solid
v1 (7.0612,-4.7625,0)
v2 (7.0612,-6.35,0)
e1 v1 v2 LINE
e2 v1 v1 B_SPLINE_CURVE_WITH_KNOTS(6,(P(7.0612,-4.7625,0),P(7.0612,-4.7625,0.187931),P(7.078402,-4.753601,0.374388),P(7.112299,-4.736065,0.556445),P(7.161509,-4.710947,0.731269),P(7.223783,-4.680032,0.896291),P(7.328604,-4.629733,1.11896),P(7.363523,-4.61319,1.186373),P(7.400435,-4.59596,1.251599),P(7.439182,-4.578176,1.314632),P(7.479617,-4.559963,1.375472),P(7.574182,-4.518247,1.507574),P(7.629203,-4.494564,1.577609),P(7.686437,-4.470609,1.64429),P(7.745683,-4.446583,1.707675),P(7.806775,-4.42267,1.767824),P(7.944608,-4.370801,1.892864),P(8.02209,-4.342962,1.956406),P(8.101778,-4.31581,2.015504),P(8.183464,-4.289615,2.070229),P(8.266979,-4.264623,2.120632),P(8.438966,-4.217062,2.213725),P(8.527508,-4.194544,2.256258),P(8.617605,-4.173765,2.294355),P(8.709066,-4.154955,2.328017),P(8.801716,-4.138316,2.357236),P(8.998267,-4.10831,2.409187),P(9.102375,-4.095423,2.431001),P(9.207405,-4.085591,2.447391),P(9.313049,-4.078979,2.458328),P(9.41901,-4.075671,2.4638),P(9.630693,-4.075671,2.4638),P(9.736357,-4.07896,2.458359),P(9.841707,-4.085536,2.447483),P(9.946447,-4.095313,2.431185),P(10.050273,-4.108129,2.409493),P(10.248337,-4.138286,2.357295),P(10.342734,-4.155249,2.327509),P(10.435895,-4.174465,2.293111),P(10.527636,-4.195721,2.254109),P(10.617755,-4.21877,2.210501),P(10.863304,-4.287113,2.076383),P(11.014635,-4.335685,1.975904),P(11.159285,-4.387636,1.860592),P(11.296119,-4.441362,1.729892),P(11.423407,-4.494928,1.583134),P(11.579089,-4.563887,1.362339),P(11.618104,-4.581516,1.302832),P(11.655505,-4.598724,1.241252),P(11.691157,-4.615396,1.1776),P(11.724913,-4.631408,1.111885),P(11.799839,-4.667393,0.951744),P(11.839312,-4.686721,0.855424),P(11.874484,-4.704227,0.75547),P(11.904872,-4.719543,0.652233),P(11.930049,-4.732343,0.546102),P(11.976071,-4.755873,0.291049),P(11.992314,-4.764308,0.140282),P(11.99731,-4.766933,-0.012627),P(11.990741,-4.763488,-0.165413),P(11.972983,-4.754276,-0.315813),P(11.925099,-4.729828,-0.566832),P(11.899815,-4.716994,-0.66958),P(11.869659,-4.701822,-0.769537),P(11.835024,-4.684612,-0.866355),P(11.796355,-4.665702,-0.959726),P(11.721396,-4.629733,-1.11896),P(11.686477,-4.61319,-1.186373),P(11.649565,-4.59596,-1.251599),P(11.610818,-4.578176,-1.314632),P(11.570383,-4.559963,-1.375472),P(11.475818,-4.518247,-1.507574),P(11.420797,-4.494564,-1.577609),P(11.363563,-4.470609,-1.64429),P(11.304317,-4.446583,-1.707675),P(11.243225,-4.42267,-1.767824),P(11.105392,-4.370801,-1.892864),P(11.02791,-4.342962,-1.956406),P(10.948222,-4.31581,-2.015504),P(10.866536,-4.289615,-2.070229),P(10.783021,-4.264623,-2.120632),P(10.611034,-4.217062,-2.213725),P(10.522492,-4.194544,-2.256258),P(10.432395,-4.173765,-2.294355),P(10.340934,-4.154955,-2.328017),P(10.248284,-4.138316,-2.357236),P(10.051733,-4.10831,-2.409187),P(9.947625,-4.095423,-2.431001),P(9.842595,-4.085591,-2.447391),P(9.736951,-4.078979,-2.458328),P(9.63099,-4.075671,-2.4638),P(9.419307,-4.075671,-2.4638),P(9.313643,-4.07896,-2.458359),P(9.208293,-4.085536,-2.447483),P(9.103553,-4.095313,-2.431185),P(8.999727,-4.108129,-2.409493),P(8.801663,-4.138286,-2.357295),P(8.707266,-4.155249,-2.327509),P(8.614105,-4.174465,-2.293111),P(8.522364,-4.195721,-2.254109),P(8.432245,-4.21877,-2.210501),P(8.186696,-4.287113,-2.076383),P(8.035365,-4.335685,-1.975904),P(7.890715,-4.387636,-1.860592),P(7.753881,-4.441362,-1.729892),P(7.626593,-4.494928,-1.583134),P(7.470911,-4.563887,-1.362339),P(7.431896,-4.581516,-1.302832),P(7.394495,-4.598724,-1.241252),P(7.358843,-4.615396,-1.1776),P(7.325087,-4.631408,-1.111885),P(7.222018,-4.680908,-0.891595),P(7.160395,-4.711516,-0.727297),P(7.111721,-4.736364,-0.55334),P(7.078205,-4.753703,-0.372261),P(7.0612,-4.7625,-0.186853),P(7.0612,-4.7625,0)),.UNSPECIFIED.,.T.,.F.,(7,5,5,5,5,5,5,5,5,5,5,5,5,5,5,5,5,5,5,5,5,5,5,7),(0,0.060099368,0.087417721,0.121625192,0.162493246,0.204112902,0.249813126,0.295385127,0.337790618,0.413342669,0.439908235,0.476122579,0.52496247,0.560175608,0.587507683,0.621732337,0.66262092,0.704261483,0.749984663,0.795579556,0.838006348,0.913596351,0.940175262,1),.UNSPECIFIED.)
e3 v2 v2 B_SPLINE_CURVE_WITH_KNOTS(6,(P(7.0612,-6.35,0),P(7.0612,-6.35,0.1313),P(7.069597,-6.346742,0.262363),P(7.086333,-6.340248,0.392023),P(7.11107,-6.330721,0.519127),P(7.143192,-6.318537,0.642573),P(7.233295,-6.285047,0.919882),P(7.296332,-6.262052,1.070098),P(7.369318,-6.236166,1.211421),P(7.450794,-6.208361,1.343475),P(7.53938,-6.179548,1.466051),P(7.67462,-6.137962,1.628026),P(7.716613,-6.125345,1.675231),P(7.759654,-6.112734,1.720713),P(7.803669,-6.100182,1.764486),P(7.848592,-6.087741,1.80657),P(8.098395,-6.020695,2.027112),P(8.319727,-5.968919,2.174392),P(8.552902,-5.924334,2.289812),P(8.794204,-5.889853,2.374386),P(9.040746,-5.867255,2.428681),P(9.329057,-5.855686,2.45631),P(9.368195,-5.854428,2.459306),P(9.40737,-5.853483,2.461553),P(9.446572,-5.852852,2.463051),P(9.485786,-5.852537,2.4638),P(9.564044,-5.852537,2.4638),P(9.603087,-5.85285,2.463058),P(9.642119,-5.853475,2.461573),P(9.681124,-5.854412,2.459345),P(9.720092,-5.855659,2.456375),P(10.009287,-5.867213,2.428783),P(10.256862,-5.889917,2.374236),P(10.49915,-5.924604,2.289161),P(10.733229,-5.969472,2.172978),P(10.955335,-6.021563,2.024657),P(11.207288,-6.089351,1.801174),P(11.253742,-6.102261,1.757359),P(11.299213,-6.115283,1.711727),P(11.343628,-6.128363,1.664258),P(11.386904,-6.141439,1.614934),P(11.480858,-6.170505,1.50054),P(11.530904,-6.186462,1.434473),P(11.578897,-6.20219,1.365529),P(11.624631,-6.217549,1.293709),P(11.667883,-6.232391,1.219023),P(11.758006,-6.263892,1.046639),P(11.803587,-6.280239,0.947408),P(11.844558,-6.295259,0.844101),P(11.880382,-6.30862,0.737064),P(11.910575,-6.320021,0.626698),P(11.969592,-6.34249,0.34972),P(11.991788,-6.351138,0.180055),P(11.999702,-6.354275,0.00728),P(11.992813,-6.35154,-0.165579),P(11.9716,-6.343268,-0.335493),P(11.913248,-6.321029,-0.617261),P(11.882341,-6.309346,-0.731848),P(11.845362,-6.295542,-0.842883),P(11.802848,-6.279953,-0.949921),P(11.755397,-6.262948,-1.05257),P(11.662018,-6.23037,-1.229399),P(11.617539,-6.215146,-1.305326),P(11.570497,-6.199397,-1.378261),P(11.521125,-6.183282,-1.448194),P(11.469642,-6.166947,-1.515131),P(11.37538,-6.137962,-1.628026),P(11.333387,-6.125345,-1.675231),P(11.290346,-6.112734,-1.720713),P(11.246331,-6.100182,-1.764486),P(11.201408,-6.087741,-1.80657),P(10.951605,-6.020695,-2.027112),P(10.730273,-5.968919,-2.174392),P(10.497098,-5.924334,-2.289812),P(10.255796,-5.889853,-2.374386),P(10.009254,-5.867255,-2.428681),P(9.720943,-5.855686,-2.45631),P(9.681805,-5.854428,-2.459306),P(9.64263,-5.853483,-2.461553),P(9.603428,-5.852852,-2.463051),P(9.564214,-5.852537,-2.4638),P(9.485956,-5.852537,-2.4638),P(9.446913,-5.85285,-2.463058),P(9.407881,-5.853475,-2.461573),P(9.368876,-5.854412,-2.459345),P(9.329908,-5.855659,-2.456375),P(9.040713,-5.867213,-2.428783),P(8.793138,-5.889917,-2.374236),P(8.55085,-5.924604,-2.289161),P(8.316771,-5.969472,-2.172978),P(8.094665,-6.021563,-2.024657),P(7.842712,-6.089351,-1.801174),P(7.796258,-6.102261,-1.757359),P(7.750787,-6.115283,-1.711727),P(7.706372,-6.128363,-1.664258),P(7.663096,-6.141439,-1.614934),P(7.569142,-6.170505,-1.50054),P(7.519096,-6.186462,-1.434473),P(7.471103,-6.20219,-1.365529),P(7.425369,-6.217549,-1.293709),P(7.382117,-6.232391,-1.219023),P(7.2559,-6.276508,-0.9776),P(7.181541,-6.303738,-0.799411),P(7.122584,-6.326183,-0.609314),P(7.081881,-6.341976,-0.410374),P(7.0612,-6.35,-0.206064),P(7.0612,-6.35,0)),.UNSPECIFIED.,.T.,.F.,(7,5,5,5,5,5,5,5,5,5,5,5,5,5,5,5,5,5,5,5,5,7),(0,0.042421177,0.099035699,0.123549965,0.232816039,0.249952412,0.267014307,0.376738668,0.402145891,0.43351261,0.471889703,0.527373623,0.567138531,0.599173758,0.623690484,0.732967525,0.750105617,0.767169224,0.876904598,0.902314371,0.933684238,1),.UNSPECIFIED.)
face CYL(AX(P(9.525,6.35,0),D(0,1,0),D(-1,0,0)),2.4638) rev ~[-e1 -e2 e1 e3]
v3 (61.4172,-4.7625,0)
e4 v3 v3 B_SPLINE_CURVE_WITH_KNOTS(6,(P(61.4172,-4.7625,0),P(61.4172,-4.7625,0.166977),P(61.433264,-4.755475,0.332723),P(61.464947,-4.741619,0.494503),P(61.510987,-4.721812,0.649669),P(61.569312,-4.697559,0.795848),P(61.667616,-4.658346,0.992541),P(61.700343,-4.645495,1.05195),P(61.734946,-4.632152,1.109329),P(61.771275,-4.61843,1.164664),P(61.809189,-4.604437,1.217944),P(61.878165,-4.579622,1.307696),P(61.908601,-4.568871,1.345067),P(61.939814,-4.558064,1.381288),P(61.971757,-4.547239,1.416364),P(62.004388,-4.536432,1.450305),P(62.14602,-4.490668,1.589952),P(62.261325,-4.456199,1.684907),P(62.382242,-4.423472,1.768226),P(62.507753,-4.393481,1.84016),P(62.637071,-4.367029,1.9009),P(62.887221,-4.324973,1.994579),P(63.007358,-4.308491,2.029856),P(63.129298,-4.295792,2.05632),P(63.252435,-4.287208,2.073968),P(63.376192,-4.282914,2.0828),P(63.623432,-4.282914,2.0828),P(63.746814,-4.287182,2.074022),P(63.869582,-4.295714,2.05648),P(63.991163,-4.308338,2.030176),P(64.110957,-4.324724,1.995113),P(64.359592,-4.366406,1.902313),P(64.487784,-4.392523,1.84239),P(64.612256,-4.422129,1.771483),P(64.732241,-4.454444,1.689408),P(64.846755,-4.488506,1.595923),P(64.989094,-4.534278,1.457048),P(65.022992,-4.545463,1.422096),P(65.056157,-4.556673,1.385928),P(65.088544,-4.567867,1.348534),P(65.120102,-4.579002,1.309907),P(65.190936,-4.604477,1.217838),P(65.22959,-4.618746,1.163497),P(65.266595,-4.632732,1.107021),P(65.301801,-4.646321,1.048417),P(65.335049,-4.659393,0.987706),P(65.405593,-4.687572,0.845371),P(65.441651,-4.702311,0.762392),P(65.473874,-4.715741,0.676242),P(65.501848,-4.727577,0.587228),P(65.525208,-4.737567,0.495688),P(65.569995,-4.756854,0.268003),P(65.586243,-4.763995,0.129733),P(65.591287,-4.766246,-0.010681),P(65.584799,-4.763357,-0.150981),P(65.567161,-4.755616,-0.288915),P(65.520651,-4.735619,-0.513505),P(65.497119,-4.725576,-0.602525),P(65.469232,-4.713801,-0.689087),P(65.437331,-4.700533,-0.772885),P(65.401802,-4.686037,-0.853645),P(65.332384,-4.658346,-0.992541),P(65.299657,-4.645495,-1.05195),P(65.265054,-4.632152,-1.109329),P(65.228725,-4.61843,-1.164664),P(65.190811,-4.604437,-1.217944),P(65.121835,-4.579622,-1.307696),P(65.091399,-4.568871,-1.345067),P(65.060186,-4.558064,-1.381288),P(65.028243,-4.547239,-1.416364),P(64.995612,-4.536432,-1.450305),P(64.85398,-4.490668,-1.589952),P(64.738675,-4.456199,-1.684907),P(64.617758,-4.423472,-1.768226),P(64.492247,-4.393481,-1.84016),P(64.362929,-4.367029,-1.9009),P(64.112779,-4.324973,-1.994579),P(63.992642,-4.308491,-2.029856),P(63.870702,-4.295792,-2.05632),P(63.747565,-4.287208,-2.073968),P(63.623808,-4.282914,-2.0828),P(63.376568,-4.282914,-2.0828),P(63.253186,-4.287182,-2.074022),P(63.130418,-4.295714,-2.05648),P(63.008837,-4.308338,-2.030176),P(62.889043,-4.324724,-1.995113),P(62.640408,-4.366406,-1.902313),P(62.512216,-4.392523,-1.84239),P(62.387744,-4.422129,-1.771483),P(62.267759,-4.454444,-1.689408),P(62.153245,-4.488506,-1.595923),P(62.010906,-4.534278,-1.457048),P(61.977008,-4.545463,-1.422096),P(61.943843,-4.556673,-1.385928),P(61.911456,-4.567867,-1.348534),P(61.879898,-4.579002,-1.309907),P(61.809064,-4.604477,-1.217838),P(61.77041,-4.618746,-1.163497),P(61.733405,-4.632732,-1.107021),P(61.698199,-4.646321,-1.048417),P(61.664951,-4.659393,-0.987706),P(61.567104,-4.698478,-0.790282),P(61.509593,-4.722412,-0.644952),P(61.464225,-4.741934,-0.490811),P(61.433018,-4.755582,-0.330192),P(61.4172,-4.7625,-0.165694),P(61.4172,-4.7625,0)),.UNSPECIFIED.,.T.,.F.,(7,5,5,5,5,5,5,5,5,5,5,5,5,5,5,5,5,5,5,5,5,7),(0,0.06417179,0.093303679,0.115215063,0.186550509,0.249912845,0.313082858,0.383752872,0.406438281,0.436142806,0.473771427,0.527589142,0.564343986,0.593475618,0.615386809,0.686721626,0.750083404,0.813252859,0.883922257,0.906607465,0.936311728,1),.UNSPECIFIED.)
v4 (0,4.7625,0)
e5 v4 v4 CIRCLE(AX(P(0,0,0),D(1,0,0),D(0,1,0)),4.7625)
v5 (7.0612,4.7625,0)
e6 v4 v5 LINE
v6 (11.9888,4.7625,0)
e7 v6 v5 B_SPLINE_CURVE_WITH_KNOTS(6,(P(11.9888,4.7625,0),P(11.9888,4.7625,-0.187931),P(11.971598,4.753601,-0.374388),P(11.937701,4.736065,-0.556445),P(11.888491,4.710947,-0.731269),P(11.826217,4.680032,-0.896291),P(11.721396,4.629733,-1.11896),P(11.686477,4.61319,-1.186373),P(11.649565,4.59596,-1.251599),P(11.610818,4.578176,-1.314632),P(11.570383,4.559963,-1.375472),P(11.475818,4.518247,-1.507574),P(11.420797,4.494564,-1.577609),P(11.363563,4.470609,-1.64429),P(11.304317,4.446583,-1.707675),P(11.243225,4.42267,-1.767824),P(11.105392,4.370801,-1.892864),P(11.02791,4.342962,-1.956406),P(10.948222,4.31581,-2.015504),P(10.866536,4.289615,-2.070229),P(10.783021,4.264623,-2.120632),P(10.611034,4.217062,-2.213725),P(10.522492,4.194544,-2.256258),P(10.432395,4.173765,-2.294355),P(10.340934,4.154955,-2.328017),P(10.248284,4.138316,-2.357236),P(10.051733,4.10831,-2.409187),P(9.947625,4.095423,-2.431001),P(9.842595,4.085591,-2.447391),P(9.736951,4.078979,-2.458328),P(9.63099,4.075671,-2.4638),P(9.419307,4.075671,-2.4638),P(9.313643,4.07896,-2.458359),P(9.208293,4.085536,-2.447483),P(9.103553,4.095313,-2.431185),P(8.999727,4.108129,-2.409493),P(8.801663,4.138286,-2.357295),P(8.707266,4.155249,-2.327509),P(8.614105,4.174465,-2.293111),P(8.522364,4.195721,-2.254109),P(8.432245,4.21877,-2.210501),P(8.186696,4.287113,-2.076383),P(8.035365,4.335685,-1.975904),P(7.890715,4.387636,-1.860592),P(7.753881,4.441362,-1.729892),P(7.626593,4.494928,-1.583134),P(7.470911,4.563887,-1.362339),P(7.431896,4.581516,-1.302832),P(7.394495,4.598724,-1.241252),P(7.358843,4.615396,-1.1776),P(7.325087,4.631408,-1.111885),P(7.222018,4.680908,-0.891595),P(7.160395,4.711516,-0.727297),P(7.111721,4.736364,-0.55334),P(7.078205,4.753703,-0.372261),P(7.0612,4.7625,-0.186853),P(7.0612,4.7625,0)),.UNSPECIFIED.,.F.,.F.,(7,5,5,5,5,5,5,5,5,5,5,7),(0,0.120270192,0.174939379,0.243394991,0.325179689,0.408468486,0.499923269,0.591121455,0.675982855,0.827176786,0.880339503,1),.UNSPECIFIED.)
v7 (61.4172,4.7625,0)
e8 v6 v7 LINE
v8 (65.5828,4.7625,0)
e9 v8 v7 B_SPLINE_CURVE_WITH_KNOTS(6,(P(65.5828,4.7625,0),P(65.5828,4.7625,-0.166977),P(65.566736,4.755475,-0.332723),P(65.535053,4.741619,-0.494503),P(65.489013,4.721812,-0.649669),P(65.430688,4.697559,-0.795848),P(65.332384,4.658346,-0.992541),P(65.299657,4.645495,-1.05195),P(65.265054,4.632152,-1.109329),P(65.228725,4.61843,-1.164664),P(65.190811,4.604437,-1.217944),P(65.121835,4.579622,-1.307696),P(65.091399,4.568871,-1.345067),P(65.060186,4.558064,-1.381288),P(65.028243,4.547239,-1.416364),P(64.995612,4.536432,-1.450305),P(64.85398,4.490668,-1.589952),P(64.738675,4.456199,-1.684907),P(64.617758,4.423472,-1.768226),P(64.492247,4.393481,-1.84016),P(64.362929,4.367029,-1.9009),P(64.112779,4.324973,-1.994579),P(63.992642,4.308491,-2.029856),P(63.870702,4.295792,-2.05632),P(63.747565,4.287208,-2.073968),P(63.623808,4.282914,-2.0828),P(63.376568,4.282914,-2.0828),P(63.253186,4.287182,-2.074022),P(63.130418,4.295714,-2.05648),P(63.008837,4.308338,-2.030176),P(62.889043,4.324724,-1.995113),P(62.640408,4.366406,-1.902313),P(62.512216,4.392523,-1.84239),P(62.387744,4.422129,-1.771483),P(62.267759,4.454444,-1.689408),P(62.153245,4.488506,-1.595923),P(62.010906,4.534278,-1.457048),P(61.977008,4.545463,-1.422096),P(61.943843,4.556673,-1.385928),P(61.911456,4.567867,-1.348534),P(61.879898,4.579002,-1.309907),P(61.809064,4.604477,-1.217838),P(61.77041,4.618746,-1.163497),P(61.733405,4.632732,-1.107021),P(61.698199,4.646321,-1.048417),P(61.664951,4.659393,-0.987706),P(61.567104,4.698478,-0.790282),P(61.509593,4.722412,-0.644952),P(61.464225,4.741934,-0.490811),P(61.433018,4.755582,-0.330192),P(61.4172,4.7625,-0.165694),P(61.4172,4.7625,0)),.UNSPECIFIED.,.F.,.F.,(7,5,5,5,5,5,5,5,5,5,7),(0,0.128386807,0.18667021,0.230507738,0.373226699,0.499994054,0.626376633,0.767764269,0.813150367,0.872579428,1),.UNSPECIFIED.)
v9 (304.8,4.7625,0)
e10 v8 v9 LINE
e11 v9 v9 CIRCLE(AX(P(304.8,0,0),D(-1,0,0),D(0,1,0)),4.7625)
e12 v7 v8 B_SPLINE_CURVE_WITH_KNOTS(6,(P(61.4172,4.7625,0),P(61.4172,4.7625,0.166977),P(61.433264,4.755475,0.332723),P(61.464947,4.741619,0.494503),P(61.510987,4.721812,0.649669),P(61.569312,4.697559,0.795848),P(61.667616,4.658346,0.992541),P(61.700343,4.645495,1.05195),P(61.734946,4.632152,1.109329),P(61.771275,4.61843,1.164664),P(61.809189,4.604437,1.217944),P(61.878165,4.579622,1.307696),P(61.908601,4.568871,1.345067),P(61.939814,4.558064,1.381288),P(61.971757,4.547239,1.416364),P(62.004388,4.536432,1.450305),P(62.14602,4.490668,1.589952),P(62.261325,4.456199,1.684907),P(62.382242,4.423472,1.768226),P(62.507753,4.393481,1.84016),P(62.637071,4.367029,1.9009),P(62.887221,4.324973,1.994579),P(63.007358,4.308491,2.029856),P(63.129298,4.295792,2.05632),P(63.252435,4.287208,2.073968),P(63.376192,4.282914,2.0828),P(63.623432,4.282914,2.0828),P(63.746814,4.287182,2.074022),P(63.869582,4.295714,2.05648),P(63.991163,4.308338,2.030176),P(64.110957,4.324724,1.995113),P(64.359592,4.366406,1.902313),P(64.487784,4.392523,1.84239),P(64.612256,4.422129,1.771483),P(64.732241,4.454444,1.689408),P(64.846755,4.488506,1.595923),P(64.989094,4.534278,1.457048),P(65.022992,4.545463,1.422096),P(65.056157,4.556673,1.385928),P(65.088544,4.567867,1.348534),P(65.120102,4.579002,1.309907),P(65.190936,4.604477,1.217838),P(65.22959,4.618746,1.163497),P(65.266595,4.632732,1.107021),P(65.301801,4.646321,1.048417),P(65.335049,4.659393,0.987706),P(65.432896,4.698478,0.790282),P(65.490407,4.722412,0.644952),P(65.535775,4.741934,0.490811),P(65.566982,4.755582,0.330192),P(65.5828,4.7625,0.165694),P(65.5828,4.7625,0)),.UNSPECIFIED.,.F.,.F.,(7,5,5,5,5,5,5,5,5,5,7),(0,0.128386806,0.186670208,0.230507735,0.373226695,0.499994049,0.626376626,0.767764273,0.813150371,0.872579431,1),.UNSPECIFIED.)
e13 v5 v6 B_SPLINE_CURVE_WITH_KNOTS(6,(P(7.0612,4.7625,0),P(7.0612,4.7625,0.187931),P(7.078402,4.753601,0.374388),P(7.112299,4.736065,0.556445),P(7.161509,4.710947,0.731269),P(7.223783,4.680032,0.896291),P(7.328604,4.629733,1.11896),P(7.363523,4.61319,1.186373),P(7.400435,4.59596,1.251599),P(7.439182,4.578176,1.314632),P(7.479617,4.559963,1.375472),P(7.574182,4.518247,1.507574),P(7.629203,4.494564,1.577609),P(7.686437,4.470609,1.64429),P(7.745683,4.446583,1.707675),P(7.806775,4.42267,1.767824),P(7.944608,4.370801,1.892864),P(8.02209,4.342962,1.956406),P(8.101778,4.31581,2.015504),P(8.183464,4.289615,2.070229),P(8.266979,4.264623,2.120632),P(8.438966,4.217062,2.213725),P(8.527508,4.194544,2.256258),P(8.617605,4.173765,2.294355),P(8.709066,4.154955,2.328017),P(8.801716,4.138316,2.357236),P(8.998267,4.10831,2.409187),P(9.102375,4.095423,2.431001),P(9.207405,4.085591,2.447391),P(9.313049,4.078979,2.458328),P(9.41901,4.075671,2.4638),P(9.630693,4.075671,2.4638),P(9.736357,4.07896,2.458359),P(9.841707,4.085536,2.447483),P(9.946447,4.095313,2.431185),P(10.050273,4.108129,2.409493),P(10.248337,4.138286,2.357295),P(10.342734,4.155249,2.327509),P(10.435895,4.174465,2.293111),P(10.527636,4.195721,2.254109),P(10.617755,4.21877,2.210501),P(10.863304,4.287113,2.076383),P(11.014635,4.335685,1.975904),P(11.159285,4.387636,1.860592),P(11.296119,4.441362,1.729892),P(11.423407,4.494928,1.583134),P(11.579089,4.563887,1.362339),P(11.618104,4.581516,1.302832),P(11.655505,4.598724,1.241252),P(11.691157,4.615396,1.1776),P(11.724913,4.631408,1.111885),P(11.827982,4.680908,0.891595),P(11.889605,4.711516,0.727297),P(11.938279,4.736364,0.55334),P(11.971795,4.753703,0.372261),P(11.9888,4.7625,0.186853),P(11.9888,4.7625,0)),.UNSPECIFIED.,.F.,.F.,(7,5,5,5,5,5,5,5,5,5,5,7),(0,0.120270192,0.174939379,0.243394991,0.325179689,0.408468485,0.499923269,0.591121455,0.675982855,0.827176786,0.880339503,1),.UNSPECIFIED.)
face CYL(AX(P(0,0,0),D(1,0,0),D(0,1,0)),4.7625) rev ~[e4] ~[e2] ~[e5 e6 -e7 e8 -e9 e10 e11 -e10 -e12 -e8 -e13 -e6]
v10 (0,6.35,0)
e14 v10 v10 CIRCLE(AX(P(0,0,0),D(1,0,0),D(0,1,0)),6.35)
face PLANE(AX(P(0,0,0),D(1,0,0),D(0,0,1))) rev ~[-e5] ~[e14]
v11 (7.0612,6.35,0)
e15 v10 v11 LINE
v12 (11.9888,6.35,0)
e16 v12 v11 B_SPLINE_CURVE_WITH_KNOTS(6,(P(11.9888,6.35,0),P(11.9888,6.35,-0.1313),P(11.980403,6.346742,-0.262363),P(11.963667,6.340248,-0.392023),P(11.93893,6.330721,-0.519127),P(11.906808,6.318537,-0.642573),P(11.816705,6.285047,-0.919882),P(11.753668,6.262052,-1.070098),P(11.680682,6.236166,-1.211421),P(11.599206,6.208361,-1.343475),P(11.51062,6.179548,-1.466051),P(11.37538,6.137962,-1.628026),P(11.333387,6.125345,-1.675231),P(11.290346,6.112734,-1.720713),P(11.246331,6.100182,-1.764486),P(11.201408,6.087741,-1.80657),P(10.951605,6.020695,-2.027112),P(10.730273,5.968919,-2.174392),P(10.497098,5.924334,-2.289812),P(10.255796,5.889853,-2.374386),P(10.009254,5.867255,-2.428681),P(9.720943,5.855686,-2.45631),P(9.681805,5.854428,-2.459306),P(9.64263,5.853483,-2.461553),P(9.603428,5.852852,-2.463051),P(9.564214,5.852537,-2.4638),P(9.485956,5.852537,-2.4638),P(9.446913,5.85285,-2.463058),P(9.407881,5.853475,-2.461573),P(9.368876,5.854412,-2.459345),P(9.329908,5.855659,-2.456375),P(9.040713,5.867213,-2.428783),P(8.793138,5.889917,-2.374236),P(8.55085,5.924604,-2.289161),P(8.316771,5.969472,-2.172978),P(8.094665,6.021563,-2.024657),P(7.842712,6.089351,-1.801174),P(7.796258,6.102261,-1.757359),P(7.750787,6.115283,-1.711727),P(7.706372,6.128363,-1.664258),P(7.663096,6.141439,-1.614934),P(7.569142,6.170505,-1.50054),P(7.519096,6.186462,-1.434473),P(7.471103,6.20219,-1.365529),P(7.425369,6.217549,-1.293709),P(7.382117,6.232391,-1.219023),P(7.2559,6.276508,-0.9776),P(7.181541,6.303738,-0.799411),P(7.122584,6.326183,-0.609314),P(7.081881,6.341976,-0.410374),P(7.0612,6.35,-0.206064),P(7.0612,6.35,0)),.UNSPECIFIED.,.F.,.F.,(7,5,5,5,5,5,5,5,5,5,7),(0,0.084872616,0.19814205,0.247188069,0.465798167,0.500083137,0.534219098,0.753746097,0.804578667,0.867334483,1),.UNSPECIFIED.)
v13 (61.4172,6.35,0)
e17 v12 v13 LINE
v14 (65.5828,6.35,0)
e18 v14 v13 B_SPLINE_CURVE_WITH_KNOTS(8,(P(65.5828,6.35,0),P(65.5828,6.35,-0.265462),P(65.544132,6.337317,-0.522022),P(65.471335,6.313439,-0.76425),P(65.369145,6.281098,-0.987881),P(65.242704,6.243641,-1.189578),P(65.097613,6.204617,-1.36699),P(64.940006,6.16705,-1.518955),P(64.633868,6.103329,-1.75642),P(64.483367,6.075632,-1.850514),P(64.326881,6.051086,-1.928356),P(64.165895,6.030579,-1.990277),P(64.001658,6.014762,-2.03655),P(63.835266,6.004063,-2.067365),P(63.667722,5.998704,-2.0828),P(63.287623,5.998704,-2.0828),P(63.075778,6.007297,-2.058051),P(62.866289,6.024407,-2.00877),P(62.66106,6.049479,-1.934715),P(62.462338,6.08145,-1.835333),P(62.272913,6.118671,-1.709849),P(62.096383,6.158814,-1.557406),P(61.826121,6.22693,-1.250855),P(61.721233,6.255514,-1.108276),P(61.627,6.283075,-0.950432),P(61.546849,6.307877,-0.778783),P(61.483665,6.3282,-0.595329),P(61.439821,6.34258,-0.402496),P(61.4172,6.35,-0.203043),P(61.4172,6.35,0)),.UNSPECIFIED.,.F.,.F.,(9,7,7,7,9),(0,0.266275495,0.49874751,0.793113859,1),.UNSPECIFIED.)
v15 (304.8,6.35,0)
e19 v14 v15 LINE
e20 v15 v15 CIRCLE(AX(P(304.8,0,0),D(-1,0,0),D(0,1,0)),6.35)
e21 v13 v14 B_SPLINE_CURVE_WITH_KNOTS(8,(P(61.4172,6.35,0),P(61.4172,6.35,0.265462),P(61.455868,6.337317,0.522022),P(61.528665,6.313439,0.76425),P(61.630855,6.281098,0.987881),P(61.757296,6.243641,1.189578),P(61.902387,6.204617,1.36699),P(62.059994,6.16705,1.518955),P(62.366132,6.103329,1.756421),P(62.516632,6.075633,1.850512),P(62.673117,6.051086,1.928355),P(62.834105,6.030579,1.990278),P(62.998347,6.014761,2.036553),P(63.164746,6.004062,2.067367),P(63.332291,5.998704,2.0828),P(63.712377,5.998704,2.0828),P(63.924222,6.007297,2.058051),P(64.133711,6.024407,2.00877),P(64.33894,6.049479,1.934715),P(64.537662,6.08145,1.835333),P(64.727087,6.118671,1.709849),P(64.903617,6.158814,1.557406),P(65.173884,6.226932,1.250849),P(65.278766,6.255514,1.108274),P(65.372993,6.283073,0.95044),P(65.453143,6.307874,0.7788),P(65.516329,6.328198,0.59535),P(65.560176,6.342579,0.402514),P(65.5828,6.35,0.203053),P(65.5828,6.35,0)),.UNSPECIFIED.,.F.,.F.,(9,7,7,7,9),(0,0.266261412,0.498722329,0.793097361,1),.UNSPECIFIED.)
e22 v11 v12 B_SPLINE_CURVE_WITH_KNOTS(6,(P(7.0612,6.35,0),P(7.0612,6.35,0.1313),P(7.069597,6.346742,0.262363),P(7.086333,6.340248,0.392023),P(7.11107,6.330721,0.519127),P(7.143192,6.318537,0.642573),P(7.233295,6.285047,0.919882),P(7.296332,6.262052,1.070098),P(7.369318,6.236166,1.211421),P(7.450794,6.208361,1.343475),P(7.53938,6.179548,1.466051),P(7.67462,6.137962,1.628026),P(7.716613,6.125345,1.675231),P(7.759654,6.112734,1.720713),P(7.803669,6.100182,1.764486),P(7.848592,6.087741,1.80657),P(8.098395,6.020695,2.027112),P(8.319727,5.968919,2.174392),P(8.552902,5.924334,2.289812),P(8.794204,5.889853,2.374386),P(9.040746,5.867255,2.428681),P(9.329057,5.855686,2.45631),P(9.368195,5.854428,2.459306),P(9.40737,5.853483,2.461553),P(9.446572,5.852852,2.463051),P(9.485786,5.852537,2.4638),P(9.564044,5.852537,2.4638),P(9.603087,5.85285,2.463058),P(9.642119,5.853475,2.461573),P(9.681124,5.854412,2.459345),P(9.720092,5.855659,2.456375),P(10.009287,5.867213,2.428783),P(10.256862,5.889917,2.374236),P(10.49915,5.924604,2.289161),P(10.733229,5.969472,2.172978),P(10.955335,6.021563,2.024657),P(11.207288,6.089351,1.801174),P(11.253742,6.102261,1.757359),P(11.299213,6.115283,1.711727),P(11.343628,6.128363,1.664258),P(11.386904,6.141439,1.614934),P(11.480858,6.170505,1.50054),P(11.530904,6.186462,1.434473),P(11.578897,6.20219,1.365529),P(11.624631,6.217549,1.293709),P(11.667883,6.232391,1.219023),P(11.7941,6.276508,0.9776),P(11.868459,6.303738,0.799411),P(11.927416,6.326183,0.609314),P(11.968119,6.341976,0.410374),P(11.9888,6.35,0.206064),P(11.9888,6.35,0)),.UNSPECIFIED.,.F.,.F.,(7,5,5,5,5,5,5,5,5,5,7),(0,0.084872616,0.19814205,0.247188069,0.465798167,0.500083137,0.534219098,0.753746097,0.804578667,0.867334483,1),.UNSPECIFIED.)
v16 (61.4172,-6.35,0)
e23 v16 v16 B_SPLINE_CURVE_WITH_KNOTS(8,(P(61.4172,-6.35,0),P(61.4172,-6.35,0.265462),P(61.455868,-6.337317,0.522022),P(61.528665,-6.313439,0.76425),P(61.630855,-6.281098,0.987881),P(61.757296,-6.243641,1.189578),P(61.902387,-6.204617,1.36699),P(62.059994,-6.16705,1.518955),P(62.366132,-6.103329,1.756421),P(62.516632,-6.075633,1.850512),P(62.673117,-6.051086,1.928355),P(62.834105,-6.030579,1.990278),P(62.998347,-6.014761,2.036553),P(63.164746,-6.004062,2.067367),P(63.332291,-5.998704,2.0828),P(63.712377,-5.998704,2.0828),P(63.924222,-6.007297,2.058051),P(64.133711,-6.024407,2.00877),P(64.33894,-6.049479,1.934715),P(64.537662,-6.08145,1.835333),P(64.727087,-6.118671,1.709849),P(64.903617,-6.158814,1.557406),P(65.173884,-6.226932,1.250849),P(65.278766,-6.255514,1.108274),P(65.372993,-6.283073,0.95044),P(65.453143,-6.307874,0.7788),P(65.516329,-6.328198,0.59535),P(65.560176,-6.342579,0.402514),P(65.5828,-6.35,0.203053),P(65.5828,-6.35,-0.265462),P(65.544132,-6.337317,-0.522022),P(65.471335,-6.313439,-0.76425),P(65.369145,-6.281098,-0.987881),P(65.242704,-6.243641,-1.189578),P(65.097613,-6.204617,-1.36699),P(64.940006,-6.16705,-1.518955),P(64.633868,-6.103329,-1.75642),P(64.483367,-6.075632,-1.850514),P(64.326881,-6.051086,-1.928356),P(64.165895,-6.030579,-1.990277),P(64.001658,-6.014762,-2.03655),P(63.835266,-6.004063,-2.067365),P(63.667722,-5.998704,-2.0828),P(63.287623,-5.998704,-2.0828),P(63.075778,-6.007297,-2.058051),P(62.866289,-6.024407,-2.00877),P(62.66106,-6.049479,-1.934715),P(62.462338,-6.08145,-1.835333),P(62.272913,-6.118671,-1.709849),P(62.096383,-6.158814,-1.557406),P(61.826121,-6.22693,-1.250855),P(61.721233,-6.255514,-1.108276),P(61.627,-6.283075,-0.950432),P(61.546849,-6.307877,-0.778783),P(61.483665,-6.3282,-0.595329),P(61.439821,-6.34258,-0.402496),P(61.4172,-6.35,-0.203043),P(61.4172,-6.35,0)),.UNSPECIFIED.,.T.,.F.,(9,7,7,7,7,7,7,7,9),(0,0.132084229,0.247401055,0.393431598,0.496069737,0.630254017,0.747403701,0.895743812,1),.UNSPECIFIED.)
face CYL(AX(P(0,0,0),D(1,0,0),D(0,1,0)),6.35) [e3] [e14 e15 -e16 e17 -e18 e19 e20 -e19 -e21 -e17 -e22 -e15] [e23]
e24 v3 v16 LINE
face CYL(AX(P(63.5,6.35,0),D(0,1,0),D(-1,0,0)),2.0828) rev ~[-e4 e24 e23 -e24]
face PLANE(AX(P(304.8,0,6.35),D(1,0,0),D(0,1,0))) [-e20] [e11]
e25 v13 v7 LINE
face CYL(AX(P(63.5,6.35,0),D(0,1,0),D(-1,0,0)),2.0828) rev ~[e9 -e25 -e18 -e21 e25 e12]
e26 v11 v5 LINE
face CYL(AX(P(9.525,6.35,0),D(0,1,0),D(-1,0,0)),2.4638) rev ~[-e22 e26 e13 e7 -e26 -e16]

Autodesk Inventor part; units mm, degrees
ref_plane "YZ Plane" through (0, 0, 0) normal (1, 0, 0) x (0, 1, 0)
sketch "Sketch1" plane through (0, 0, 0) normal (0, 0, 1) x (1, 0, 0)
  line L0 (0, 0) -> (304.8, 0)
  arc A0 (304.8, 0) -> (406.4, 101.6) centre (304.8, 101.6) ccw
  line L1 (406.4, 101.6) -> (406.4, 152.4)
  line L2 (304.8, 0) -> (304.8, 101.6) construction
  line L3 (304.8, 101.6) -> (406.4, 101.6) construction
  arc A1 (406.4, 152.4) -> (304.8, 254) centre (304.8, 152.4) ccw
  line L4 (406.4, 152.4) -> (304.8, 152.4) construction
  line L5 (304.8, 152.4) -> (304.8, 254) construction
  line L6 (304.8, 254) -> (203.2, 254)
  circle A2 centre (668.9835, 281.347) radius 317.5 construction
  dimension "d0" = 304.8
  dimension "d1" = 101.6
  dimension "d2" = 50.8
  dimension "d3" = 101.6
  dimension "d4" = 101.6
  dimension "d7" = 635
sketch "Sketch2" plane through (0, 0, 0) normal (1, 0, 0) x (0, 1, 0)
  circle A0 centre (0, 0) radius 6.35
  circle A1 centre (0, 0) radius 4.7625
  dimension "d5" = 12.7
  dimension "d8" = 9.525
sweep "Sweep1" add profiles "Sketch2" path "Sketch1"
ref_plane "Work Plane1" through (0, 6.35, 0) normal (0, 1, 0) x (-1, 0, 0)
sketch "Sketch3" plane through (0, 6.35, 0) normal (0, 1, 0) x (-1, 0, 0)
  circle A0 centre (-63.5, 0) radius 2.0828
  line L0 (0, 6.35) -> (-304.8, 6.35) projected
  line L1 (0, -6.35) -> (-304.8, -6.35) projected
  line L2 (0, -6.35) -> (0, 6.35) projected
  circle A1 centre (-9.525, 0) radius 2.4638
  point P0 (0, 0)
  dimension "d9" = 4.1656
  dimension "d10" = 63.5
  dimension "d11" = 6.35
  dimension "d14" = 4.9276
  dimension "d15" = 9.525
  dimension "d16" = 6.35
extrude "Extrusion1" cut sketch "Sketch3" against normal blind 25.4
ref_plane "Work Plane2" through (0, 0, 6.35) normal (0, 0, 1) x (1, 0, 0)
sketch "Sketch4" plane through (0, 0, 6.35) normal (0, 0, 1) x (1, 0, 0)
  line L0 (0, 0) -> (304.8, 0)
  line L1 (304.8, 0) -> (304.8, 213.1624)
  line L2 (304.8, 213.1624) -> (152.4, 213.1624)
  line L3 (152.4, 213.1624) -> (152.4, 273.9577)
  line L4 (152.4, 273.9577) -> (436.2539, 273.9577)
  line L5 (436.2539, 273.9577) -> (436.2539, -18.5171)
  line L6 (436.2539, -18.5171) -> (304.8, -18.5171)
  line L7 (304.8, -18.5171) -> (304.8, 15.9884)
  dimension "d17" = 304.8
extrude "Extrusion2" cut sketch "Sketch4" against normal blind 25.4
properties part number "12 inch pipe" material "Aluminum"
